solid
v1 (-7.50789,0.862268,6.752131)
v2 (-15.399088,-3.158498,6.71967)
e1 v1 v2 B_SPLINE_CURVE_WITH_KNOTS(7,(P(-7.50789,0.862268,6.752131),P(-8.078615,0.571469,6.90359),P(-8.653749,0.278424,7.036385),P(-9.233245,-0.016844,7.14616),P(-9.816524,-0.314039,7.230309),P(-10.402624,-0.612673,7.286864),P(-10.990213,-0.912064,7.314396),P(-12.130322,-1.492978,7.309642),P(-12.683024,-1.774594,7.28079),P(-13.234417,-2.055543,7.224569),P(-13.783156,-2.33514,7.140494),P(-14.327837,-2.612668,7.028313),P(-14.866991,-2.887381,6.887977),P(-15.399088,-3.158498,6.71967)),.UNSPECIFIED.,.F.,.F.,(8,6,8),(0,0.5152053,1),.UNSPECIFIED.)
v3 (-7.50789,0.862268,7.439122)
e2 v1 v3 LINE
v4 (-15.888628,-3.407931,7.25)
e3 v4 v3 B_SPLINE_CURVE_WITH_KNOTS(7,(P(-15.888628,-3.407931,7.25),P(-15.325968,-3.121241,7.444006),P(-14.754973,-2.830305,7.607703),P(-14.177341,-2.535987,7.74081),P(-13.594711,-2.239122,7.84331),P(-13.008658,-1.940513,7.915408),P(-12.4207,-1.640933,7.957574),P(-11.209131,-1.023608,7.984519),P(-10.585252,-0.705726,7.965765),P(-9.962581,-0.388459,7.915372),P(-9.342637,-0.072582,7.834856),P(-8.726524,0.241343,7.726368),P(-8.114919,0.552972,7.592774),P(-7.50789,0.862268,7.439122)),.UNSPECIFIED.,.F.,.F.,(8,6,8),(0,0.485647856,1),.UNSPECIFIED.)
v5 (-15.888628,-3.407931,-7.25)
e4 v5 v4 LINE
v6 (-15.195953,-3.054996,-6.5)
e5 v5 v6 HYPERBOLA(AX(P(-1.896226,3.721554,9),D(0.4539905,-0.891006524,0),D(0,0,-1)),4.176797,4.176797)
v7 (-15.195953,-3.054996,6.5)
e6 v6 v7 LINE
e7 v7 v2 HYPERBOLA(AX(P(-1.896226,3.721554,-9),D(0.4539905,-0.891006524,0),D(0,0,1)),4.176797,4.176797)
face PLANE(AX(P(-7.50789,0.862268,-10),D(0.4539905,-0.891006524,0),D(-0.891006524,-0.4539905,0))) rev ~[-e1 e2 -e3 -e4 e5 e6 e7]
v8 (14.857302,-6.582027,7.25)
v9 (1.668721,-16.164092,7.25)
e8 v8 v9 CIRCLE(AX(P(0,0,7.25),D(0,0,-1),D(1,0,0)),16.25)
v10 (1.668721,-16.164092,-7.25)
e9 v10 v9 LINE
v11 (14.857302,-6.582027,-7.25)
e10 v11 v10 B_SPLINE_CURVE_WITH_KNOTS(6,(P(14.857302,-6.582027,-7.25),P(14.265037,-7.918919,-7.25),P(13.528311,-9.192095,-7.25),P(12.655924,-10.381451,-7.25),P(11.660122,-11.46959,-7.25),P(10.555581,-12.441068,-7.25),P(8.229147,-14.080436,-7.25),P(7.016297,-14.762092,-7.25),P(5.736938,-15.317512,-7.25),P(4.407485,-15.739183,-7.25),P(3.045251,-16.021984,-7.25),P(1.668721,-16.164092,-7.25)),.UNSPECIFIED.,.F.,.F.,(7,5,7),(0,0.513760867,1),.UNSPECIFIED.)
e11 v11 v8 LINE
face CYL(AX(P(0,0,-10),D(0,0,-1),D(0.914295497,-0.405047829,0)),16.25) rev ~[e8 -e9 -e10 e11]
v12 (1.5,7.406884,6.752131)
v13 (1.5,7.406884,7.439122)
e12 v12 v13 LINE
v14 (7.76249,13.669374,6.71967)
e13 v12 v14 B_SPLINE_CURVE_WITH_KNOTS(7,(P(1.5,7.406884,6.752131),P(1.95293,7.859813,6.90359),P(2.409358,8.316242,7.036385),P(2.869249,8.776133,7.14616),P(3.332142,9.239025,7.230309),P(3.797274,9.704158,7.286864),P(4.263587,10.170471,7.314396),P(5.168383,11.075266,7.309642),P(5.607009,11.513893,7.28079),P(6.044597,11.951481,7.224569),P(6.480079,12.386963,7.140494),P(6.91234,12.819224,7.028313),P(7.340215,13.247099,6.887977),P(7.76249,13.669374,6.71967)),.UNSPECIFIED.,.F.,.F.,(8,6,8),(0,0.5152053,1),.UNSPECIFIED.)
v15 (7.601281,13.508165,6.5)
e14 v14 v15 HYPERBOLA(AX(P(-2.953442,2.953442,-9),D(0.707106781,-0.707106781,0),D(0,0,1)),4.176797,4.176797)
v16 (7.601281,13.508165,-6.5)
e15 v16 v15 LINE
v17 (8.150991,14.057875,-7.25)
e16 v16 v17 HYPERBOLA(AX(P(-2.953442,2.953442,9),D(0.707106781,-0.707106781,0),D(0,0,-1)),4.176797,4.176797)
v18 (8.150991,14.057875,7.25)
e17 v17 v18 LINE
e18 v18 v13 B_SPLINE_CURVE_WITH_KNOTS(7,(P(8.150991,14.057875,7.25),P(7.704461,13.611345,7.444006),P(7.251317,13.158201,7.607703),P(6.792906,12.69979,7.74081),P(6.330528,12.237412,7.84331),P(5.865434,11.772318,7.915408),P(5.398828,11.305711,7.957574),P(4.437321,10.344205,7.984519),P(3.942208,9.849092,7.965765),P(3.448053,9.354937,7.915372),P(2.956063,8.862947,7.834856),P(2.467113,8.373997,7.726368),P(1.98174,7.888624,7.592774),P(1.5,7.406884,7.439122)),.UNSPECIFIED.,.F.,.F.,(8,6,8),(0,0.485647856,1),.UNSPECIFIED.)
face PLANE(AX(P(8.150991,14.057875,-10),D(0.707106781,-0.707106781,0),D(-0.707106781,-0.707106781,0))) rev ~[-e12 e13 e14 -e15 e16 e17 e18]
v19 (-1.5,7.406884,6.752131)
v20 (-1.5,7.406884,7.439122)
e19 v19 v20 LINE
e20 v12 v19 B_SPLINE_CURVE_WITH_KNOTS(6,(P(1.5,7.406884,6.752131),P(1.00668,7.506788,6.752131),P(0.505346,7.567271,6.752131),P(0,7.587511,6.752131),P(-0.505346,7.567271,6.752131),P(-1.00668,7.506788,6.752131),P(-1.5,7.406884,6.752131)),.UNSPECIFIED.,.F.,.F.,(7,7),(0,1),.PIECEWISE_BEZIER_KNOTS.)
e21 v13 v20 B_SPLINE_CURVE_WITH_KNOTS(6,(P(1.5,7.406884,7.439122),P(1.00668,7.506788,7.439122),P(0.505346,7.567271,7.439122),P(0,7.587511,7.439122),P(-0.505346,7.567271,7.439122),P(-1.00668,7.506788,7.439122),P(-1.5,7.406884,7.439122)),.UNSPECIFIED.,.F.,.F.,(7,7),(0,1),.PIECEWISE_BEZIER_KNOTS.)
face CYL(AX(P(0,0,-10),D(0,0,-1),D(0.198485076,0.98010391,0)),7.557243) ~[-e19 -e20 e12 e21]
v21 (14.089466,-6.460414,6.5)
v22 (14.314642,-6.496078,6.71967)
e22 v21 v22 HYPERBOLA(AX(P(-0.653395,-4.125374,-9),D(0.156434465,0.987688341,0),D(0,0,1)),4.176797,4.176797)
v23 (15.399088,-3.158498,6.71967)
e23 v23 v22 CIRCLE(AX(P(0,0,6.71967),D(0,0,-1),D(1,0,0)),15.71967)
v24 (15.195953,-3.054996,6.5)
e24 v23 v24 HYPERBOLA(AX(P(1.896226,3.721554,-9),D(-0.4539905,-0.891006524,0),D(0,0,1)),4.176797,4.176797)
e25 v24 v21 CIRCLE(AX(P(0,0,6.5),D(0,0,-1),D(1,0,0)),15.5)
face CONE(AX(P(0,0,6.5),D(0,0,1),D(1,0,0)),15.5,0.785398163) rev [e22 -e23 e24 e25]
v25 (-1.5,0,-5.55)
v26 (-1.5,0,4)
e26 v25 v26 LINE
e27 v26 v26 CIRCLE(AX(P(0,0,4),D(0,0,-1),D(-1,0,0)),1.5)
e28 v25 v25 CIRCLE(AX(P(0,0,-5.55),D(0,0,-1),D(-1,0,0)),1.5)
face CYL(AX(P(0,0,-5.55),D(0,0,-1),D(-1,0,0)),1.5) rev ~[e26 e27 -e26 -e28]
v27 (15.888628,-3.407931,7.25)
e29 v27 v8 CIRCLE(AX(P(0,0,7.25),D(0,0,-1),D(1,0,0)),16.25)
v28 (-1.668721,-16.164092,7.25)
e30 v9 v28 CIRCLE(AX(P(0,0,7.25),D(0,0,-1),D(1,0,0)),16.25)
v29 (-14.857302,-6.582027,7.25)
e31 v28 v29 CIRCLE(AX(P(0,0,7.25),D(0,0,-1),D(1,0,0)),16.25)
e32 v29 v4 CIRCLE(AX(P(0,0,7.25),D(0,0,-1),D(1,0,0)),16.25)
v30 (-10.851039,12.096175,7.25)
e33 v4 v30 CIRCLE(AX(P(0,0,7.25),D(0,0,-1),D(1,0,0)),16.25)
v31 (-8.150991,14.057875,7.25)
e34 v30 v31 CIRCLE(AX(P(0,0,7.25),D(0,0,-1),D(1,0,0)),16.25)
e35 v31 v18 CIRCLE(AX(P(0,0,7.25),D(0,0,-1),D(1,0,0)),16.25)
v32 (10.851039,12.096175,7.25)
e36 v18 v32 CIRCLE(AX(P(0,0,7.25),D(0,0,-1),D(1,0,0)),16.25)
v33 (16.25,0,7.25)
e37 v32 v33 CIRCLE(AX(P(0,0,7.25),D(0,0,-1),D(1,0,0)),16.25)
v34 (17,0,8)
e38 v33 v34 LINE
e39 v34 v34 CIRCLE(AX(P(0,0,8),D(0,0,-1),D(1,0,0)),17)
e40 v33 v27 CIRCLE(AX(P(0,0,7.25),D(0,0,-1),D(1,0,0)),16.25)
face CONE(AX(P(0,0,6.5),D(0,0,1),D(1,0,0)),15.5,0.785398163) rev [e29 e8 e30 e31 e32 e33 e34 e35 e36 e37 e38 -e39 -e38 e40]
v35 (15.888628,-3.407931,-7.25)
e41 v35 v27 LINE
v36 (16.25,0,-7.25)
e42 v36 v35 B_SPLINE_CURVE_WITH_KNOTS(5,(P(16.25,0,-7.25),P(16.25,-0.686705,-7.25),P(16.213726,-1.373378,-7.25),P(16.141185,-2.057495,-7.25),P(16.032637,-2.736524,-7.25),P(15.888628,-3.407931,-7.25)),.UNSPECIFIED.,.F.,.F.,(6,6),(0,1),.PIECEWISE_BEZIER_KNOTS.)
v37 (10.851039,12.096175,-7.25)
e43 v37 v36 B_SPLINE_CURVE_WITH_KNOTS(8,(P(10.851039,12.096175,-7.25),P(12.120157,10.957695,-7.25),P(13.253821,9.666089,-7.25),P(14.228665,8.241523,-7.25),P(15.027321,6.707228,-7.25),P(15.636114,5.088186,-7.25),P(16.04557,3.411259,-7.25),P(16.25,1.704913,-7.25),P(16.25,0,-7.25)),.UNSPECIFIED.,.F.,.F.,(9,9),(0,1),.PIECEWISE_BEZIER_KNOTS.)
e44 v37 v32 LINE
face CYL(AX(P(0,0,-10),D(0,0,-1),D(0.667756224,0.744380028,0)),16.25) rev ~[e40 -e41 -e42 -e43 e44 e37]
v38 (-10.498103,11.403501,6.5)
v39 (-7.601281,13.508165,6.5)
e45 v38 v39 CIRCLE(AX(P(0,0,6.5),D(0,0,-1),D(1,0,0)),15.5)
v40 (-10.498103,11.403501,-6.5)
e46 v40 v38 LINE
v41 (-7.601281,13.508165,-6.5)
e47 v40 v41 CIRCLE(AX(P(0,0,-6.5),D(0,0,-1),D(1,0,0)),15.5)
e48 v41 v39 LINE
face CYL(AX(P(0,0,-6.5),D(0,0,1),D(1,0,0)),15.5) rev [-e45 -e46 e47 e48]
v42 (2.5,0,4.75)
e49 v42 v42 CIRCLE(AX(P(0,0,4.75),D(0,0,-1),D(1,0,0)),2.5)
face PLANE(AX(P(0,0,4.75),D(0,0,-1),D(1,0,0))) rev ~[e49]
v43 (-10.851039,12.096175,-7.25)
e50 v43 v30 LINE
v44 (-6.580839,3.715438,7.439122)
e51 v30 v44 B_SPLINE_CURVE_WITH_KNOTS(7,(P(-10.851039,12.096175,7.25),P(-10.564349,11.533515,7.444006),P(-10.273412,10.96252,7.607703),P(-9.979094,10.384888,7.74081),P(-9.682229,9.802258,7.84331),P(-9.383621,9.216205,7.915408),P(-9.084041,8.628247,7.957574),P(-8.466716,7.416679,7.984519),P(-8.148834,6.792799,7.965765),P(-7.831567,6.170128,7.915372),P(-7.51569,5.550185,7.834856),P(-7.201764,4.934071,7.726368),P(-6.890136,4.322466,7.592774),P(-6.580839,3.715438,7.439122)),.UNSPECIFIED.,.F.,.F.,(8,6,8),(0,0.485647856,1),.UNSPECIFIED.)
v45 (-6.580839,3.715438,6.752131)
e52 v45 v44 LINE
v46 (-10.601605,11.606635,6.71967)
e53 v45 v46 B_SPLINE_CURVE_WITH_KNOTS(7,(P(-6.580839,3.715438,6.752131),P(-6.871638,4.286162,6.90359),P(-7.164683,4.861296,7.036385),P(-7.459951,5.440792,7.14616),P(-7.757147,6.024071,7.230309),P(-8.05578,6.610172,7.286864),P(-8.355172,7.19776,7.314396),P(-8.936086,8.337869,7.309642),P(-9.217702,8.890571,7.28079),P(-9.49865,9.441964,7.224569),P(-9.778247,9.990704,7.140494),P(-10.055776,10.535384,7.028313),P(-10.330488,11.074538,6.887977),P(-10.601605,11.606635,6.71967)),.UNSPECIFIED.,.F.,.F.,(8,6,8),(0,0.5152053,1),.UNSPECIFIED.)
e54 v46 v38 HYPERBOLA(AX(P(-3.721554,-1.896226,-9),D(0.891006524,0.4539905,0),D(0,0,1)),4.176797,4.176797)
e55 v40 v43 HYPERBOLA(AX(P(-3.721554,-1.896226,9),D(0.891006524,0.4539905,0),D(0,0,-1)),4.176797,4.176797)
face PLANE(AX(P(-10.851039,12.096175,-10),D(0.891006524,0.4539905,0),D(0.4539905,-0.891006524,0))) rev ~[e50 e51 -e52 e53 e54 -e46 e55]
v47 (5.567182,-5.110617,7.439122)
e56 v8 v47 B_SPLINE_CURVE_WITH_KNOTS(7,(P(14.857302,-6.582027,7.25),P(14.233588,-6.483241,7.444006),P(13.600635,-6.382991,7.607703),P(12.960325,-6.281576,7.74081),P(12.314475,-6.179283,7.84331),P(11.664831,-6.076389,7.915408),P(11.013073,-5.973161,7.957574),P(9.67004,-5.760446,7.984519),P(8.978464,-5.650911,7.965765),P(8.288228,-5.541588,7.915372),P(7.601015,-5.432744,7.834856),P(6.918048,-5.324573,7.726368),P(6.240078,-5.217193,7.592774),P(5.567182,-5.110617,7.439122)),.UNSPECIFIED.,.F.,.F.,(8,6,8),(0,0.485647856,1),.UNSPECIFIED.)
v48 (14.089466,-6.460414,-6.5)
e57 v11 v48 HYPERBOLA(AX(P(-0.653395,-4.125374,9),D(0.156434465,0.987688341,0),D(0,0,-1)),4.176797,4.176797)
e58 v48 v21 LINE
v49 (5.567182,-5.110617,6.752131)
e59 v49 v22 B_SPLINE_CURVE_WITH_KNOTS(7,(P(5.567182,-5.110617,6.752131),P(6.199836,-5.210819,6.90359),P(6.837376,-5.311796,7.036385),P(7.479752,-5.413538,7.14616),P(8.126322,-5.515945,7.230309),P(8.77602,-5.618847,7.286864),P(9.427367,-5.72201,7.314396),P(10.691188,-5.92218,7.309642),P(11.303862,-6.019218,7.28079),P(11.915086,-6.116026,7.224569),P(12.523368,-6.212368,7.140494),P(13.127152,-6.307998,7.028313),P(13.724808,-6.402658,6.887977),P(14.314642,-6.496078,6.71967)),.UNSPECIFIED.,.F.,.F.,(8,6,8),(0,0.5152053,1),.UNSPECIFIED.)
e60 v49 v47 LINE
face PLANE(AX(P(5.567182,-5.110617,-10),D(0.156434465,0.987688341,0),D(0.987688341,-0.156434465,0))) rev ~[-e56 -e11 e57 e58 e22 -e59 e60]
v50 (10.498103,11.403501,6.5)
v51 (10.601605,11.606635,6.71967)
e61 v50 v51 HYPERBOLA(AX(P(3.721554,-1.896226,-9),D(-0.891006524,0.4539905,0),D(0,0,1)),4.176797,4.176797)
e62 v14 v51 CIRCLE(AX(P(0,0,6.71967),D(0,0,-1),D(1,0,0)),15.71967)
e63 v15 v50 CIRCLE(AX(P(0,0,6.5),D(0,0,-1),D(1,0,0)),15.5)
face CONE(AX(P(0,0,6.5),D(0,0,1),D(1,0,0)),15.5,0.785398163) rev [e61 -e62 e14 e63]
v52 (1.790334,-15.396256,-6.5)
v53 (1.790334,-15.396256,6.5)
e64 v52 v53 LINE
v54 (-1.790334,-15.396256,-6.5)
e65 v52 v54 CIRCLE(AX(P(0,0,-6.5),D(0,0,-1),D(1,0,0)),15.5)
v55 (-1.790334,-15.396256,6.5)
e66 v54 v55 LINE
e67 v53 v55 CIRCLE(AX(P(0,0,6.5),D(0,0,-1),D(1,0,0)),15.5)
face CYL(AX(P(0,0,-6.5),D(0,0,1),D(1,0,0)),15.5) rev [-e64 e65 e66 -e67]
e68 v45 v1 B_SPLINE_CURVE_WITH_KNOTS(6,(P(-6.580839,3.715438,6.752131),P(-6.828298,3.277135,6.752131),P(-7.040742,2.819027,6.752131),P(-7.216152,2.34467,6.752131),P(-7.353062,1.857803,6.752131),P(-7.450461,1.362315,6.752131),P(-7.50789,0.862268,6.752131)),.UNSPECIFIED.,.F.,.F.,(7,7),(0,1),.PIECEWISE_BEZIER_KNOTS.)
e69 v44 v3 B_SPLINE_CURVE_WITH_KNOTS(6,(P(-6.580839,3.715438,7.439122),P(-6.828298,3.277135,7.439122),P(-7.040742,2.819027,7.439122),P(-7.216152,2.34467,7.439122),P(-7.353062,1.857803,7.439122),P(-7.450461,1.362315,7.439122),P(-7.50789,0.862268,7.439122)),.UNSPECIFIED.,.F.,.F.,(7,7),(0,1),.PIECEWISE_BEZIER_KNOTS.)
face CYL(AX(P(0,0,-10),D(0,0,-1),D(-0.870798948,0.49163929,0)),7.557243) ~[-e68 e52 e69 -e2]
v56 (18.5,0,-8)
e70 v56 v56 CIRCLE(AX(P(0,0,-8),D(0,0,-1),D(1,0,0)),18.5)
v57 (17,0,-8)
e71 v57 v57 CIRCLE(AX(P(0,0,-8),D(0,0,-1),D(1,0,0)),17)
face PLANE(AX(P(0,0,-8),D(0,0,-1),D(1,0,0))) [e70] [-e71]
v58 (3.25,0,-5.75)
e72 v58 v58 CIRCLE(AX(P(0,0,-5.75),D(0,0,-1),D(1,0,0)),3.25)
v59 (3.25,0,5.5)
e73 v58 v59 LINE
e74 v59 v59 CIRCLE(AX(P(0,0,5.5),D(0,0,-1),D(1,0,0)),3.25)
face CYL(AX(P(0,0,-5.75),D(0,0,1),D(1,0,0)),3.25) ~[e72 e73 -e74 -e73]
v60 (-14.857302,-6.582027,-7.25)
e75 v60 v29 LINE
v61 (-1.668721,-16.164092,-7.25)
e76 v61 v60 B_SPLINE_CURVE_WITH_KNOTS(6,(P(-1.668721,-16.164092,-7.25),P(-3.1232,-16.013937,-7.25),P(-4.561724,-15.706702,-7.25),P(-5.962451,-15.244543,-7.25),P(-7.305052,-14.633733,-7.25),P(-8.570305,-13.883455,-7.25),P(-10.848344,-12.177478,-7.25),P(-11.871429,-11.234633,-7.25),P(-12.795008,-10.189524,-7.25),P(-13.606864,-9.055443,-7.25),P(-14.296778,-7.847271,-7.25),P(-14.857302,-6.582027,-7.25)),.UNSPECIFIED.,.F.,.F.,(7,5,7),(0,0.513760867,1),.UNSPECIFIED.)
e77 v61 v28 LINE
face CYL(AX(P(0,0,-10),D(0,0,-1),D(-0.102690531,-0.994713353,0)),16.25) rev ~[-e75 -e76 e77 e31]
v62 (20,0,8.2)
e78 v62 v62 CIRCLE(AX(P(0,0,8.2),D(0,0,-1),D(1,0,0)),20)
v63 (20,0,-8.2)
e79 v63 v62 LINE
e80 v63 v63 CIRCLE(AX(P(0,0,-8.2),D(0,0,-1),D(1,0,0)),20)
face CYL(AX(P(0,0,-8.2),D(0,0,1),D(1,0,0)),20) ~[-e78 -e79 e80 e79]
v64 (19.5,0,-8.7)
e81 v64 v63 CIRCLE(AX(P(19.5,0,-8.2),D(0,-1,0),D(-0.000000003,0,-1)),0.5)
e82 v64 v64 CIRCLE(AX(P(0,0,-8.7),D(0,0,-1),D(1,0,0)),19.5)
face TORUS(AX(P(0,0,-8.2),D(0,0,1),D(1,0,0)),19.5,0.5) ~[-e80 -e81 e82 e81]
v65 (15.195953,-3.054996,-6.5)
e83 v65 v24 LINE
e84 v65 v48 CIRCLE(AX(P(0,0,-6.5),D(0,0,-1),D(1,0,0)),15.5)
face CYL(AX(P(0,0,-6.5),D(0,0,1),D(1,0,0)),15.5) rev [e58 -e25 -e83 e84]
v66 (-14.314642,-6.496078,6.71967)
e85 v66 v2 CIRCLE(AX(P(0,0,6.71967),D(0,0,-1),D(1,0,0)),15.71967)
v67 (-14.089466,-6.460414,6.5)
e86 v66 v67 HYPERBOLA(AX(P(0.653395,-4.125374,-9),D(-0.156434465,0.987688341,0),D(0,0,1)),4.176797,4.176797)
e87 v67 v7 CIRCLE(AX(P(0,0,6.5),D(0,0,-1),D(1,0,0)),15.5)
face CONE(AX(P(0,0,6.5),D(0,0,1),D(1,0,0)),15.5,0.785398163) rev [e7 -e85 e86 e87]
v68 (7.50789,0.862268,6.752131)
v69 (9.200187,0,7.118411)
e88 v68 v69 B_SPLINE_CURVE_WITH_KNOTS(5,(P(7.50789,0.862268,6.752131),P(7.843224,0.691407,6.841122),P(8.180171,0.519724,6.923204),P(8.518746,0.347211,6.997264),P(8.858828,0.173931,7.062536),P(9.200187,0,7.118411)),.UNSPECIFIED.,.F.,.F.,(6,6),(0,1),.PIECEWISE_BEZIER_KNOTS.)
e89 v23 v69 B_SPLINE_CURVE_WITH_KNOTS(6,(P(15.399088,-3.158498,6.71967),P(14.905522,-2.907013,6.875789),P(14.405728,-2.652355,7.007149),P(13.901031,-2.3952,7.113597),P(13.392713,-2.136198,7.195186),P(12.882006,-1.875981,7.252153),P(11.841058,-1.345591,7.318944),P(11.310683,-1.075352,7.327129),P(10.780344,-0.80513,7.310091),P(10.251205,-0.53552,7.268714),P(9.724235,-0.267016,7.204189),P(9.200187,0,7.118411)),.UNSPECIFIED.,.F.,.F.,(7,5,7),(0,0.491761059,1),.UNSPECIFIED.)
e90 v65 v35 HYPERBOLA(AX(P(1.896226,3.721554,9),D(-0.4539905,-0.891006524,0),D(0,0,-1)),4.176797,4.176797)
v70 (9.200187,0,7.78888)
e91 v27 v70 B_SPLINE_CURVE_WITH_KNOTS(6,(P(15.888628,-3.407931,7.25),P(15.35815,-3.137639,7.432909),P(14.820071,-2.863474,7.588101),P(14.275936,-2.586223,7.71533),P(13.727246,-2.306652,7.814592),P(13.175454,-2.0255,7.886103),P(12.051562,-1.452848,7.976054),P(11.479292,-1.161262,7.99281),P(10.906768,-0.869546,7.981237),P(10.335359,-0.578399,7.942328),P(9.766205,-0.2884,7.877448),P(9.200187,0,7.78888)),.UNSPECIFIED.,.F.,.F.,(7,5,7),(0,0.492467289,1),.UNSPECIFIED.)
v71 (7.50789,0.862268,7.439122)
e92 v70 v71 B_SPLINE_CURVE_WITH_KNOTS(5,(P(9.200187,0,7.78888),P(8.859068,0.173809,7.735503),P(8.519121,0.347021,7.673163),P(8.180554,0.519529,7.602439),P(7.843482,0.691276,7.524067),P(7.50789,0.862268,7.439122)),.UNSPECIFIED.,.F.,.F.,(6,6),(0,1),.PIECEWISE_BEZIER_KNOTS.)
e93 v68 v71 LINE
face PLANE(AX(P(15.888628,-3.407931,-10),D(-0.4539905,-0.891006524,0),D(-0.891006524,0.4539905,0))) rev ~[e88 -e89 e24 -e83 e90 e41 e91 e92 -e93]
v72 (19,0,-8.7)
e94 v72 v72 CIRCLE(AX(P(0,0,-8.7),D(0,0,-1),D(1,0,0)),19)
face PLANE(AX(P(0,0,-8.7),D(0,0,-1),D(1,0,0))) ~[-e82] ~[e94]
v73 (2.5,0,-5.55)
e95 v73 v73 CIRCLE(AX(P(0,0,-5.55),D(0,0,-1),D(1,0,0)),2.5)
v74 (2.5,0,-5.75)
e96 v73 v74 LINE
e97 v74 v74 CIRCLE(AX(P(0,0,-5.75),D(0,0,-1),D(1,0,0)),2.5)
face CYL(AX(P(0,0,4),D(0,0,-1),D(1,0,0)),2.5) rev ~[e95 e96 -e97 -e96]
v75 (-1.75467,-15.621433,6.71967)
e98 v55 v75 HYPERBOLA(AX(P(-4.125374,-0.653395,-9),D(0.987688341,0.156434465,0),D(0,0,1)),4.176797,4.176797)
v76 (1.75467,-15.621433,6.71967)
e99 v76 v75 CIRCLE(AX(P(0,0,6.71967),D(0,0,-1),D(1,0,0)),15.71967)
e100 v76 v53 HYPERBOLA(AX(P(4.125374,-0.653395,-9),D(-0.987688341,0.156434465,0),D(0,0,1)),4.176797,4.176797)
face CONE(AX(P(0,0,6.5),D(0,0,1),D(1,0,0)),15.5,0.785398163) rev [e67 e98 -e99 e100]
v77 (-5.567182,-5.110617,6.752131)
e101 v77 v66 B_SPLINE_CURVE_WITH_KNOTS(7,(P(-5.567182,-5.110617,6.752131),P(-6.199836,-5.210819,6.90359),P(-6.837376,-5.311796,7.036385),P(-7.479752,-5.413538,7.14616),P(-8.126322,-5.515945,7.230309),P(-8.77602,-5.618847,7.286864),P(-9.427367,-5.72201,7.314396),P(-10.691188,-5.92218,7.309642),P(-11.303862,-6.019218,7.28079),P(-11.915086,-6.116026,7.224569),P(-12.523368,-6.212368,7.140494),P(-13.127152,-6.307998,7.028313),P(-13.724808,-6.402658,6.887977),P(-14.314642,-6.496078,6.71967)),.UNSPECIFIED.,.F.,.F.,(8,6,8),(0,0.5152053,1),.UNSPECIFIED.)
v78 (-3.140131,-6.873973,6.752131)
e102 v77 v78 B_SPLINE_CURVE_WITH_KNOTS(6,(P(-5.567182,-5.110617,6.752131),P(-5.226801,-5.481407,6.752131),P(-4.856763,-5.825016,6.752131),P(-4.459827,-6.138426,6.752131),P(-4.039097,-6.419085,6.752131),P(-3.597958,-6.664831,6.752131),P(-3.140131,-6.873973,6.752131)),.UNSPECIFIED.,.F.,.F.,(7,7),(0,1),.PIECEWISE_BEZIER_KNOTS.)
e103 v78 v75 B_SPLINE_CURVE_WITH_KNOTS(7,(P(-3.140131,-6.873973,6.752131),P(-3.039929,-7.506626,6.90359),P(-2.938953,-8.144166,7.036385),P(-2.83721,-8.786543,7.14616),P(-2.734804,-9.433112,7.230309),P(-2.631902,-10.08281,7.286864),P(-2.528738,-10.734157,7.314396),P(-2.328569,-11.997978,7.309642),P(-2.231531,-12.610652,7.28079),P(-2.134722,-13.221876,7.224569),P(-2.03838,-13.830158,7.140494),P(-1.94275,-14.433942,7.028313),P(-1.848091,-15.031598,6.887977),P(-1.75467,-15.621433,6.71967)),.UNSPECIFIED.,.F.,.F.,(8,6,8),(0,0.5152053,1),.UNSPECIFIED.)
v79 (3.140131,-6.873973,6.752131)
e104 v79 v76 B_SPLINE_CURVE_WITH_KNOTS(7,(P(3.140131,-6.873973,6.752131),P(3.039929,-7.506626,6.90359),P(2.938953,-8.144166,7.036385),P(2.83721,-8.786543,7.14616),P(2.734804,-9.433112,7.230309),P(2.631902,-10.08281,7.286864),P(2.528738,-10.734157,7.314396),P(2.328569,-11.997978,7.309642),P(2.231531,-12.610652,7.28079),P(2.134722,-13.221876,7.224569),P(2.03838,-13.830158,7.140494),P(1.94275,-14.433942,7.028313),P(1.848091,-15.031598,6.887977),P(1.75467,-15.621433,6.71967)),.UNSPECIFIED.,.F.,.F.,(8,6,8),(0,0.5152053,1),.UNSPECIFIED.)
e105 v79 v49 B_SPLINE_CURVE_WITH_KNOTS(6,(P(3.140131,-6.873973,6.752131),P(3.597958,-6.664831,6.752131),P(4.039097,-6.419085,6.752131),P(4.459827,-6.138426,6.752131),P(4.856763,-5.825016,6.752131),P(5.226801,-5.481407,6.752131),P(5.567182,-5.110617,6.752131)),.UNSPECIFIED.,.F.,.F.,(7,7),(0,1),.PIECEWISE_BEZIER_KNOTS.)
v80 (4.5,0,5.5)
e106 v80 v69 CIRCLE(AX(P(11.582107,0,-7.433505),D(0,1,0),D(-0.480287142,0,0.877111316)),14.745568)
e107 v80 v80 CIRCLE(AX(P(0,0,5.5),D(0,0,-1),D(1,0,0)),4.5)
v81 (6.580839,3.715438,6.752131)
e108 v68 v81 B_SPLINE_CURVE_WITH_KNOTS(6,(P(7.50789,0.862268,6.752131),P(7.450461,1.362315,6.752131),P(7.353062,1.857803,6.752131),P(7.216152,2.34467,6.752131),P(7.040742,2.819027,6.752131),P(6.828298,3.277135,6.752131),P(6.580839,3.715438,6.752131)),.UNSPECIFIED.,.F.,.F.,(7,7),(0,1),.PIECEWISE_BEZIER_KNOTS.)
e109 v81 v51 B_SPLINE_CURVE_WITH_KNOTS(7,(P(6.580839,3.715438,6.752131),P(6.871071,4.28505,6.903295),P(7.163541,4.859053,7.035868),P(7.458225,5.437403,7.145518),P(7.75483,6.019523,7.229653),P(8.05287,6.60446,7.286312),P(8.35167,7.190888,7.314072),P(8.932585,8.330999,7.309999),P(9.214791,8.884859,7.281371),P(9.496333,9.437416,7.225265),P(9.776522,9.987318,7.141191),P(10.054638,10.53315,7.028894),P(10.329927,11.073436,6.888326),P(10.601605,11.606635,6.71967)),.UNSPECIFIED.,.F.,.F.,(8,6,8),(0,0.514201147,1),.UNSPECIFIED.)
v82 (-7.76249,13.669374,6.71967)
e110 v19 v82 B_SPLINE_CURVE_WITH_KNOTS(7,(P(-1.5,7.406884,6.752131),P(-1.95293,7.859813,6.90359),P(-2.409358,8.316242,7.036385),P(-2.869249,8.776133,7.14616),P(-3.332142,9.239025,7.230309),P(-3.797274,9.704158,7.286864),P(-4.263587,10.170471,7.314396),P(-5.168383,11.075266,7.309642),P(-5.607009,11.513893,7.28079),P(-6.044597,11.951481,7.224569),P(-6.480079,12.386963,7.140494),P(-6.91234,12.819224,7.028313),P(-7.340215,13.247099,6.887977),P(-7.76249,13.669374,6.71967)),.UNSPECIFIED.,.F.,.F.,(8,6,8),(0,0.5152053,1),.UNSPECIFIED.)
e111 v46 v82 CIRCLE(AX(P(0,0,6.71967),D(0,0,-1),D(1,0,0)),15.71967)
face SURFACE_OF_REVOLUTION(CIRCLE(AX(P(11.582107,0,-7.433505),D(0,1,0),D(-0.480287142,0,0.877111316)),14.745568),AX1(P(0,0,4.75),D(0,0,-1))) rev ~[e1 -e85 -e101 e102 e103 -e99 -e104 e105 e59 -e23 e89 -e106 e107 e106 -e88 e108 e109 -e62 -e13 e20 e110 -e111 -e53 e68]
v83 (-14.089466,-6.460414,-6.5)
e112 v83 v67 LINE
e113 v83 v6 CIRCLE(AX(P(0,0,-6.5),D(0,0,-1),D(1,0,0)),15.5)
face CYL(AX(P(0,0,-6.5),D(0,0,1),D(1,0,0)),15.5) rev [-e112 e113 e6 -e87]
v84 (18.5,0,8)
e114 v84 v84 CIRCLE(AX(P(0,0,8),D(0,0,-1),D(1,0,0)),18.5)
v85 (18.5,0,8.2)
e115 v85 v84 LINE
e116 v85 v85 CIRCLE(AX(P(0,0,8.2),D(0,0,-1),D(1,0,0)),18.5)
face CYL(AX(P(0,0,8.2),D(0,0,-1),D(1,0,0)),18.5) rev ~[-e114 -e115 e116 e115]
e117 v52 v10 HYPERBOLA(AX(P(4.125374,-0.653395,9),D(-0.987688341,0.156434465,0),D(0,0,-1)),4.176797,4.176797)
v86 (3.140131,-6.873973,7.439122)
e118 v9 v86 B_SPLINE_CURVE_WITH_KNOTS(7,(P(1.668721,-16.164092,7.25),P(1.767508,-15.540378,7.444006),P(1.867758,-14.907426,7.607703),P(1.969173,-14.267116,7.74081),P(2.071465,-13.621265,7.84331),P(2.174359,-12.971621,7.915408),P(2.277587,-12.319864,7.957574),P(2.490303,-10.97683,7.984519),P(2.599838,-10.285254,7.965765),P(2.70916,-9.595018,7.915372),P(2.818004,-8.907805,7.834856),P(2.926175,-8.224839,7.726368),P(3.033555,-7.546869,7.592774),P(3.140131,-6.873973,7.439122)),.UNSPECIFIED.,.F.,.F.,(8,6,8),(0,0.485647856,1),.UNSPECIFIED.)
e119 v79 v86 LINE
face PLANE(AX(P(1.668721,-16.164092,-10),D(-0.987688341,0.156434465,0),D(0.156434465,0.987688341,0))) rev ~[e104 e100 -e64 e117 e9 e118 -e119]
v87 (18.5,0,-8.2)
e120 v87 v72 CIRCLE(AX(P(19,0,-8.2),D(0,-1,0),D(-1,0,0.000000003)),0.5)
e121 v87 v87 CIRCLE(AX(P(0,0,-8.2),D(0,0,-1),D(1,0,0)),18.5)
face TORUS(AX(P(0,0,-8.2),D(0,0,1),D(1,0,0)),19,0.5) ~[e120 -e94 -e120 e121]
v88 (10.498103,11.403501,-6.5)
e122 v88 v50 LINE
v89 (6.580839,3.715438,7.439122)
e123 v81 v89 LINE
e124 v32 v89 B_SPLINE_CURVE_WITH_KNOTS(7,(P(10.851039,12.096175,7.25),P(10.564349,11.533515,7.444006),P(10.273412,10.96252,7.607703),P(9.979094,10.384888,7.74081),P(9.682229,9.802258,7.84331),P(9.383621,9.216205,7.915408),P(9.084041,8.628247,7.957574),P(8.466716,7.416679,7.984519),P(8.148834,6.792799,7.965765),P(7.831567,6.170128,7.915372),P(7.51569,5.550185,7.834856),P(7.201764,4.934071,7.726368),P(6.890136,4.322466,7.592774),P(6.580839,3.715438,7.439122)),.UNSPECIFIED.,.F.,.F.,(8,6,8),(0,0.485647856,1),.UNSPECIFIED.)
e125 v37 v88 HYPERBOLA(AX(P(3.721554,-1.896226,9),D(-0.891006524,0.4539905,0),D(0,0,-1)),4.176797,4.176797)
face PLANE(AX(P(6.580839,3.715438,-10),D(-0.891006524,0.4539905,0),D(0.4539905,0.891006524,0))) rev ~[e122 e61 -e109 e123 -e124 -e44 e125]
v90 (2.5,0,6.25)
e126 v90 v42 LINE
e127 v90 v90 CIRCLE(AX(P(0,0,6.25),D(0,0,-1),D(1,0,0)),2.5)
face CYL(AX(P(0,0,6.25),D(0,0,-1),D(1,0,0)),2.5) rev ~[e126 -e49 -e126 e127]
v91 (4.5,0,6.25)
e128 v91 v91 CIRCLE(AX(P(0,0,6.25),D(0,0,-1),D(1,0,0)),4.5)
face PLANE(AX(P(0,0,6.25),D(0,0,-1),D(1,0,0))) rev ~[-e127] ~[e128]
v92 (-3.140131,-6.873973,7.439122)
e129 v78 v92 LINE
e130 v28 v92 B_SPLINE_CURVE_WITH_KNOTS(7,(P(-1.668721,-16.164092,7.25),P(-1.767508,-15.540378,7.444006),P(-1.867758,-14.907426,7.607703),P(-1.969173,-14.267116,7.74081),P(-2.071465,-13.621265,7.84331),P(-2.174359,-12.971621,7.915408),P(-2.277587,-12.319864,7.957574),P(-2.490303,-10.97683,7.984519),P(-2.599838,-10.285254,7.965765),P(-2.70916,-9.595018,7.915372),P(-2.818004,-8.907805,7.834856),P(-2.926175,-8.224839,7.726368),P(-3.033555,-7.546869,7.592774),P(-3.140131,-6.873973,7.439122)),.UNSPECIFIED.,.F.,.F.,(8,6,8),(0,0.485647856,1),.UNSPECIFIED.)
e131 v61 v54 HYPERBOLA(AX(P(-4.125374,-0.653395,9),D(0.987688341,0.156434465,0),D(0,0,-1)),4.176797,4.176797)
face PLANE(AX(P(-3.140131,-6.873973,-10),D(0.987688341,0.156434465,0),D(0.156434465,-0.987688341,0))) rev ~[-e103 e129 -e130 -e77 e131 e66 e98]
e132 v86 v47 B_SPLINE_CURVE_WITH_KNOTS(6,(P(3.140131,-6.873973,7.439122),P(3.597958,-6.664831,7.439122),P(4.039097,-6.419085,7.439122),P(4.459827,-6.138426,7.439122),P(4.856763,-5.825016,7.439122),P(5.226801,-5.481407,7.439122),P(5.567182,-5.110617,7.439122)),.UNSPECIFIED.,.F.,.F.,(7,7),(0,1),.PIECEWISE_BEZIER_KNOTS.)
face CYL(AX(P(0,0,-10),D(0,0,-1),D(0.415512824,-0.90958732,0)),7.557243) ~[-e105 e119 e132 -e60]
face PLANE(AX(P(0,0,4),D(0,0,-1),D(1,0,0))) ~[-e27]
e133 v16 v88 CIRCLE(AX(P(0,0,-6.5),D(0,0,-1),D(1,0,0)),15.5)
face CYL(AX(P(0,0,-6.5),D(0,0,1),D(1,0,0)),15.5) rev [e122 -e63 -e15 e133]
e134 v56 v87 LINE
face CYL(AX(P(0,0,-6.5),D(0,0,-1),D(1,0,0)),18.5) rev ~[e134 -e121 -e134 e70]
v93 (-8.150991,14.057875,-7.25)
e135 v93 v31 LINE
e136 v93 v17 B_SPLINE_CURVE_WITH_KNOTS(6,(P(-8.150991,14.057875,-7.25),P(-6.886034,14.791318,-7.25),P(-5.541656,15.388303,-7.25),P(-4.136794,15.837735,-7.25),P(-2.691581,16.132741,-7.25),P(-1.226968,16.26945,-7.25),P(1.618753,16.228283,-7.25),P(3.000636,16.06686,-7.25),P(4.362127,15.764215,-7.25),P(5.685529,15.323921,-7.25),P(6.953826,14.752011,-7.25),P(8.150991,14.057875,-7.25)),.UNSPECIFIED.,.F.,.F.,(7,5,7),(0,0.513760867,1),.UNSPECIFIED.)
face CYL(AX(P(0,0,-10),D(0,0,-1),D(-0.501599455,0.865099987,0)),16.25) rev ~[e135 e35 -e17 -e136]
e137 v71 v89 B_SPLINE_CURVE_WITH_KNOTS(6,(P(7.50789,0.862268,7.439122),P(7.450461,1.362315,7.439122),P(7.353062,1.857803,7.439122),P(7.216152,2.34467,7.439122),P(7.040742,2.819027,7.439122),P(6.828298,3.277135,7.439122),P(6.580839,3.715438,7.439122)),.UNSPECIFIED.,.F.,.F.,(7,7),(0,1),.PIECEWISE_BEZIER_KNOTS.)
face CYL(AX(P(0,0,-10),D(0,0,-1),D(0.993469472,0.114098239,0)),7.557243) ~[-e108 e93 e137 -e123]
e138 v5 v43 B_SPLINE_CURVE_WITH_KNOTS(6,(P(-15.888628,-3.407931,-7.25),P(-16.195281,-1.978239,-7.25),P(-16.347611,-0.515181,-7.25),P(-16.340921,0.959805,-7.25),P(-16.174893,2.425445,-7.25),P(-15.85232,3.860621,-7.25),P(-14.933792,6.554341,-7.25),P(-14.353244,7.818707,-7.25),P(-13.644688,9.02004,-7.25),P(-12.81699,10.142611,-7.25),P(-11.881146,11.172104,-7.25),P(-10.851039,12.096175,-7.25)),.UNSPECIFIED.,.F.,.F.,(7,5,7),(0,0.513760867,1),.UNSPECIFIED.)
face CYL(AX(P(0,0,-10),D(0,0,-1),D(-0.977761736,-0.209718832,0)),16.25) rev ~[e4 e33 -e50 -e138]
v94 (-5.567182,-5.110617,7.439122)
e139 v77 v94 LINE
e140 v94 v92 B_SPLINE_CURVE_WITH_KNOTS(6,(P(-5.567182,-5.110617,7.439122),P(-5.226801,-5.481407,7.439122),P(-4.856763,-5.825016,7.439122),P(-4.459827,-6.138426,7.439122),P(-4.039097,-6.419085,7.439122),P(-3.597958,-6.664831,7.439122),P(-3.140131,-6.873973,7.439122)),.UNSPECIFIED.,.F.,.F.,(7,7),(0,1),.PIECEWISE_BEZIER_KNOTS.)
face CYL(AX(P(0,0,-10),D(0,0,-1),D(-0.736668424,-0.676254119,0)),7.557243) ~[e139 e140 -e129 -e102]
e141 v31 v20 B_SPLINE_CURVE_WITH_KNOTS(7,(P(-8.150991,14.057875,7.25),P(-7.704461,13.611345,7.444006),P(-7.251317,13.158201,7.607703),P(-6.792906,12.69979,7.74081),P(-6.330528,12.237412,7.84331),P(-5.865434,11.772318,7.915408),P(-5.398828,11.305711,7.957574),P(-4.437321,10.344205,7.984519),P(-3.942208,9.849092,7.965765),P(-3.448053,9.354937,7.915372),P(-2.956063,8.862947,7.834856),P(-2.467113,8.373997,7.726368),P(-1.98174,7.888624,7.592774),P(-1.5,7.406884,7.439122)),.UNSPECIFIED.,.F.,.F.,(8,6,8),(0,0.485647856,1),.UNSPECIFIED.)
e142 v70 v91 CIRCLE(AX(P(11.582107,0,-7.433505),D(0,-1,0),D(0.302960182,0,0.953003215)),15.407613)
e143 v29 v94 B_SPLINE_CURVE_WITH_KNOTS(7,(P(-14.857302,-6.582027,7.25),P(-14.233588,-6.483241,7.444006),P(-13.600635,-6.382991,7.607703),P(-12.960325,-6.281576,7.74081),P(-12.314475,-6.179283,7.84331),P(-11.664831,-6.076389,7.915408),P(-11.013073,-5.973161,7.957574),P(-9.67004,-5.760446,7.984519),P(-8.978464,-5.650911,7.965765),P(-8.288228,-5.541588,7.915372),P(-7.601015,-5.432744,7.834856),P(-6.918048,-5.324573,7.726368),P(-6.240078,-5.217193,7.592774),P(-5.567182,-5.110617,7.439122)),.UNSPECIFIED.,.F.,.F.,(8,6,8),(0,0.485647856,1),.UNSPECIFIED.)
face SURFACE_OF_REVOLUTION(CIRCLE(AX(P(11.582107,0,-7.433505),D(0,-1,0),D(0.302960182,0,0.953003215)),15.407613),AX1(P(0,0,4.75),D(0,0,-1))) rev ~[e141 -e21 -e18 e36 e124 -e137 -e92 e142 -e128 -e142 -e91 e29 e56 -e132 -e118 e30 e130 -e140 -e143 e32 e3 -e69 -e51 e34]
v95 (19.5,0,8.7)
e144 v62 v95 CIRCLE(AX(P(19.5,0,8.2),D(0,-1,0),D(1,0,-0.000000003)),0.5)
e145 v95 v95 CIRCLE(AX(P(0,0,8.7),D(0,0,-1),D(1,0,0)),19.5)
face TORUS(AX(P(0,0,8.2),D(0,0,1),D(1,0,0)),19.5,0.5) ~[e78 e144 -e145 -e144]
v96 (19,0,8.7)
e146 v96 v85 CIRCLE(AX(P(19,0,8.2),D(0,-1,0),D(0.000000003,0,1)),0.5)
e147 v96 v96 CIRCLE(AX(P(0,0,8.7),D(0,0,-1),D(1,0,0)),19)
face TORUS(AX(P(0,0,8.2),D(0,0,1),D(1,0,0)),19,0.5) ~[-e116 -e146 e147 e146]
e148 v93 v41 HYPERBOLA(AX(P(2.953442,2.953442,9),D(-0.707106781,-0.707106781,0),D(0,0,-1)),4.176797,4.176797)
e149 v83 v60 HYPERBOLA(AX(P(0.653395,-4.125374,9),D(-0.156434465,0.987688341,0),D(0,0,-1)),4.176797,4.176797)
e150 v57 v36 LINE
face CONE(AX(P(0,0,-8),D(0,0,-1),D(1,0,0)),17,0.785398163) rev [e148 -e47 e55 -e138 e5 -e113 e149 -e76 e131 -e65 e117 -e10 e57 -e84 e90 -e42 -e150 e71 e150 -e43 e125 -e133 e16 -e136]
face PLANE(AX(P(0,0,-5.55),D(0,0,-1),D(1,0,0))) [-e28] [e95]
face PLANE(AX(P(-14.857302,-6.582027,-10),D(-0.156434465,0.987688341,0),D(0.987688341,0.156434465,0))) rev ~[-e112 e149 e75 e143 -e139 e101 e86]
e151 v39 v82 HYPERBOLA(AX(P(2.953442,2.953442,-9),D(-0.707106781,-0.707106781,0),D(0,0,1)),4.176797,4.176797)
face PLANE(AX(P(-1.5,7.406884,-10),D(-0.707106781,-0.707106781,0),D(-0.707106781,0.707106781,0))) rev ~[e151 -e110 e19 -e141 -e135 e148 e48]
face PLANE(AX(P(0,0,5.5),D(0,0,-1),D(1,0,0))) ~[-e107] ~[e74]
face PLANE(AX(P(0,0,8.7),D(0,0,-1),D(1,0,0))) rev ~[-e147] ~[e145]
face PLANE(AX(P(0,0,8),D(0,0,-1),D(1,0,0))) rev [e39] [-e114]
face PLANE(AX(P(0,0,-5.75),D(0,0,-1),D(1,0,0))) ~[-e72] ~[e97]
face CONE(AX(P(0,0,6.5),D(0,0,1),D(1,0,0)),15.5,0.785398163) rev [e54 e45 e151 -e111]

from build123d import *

# Parameters (mm, degrees)
CUT_EXTRUDE2_DEPTH      = 10
CUT_EXTRUDE2_DEPTH_BACK = 10
BOSS_EXTRUDE1_START     = -0.2
SKETCH6_R               = 2.5
SKETCH6_R_2             = 1.5
BOSS_EXTRUDE1_DEPTH     = 10


with BuildPart() as part:
    # Sketch1 → Revolve1 (revolve)
    with BuildSketch(Plane(origin=(0, 0, 0), x_dir=(0, 0, -1), z_dir=(1, 0, 0)), mode=Mode.PRIVATE) as revolve1_sk:
        Polygon((6.5, 15.5), (-6.5, 15.5), (-8, 17), (-8, 18.5), (-6.5, 18.5), (-5, 16.5), (5, 16.5), (6.5, 18.5), (8, 18.5), (8, 17), align=None)
    revolve(revolve1_sk.sketch.rotate(Axis((0, 0, 10.557897078), (0, 0, -1)), 90), axis=Axis((0, 0, 10.557897078), (0, 0, -1)))

    # Sketch3 → Revolve2 (revolve)
    with BuildSketch(Plane(origin=(0, 0, 0), x_dir=(0, 0, -1), z_dir=(1, 0, 0)), mode=Mode.PRIVATE) as revolve2_sk:
        with BuildLine():
            Line((-6.25, 4.5), (-6.25, 2.5))
            Line((-6.25, 2.5), (-4.75, 2.5))
            Line((-4.75, 2.5), (-4.75, 0))
            Line((-4.75, 0), (-4, 0))
            Line((-4, 0), (-4, 2.5))
            Line((-4, 2.5), (5.75, 2.5))
            Line((5.75, 2.5), (5.75, 3.25))
            Line((5.75, 3.25), (-5.5, 3.25))
            Line((-5.5, 3.25), (-5.5, 4.5))
            ThreePointArc((-5.5, 4.5), (-7.225700509, 9.988531242), (-6.719669914, 15.719669914))
            Line((-6.719669914, 15.719669914), (-7.25, 16.25))
            ThreePointArc((-7.25, 16.25), (-7.918610158, 10.275543816), (-6.25, 4.5))
        make_face()
    revolve(revolve2_sk.sketch.rotate(Axis((0, 0, 4.75), (0, 0, -1)), 90), axis=Axis((0, 0, 4.75), (0, 0, -1)))

    # Sketch4 → Cut-Extrude2 (cut, two sides: drawn at the far end of the back side and taken through both)
    with BuildSketch(Plane.XY.offset(-CUT_EXTRUDE2_DEPTH_BACK)):
        with BuildLine():
            Line((-1.5, 7.406883651), (-8.150991135, 14.057874786))
            ThreePointArc((-8.150991135, 14.057874786), (0, 16.25), (8.150991135, 14.057874786))
            Line((8.150991135, 14.057874786), (1.5, 7.406883651))
            ThreePointArc((1.5, 7.406883651), (0, 7.557243242), (-1.5, 7.406883651))
        make_face()
        with BuildLine():
            Line((6.58083947, 3.715437698), (10.851038639, 12.096175447))
            ThreePointArc((10.851038639, 12.096175447), (15.45466839, 5.021526159), (15.888628203, -3.40793102))
            Line((15.888628203, -3.40793102), (7.507890453, 0.862268149))
            ThreePointArc((7.507890453, 0.862268149), (7.187365431, 2.335316592), (6.58083947, 3.715437698))
        make_face()
        with BuildLine():
            Line((5.567182467, -5.110616871), (14.857301828, -6.582027226))
            ThreePointArc((14.857301828, -6.582027226), (9.55151035, -13.146526159), (1.668721129, -16.164091988))
            Line((1.668721129, -16.164091988), (3.140131484, -6.873972628))
            ThreePointArc((3.140131484, -6.873972628), (4.442036126, -6.113938214), (5.567182467, -5.110616871))
        make_face()
        with BuildLine():
            Line((-3.140131484, -6.873972628), (-1.668721129, -16.164091988))
            ThreePointArc((-1.668721129, -16.164091988), (-9.55151035, -13.146526159), (-14.857301828, -6.582027226))
            Line((-14.857301828, -6.582027226), (-5.567182467, -5.110616871))
            ThreePointArc((-5.567182467, -5.110616871), (-4.442036126, -6.113938214), (-3.140131484, -6.873972628))
        make_face()
        with BuildLine():
            Line((-7.507890453, 0.862268149), (-15.888628203, -3.40793102))
            ThreePointArc((-15.888628203, -3.40793102), (-15.45466839, 5.021526159), (-10.851038639, 12.096175447))
            Line((-10.851038639, 12.096175447), (-6.58083947, 3.715437698))
            ThreePointArc((-6.58083947, 3.715437698), (-7.187365431, 2.335316592), (-7.507890453, 0.862268149))
        make_face()
    extrude(amount=CUT_EXTRUDE2_DEPTH + CUT_EXTRUDE2_DEPTH_BACK, mode=Mode.SUBTRACT)

    # Sketch5 → Revolve3 (revolve)
    with BuildSketch(Plane(origin=(0, 0, 0), x_dir=(0, 0, -1), z_dir=(1, 0, 0)), mode=Mode.PRIVATE) as revolve3_sk:
        with BuildLine():
            Line((-8.2, 18.5), (-6.5, 18.5))
            Line((-6.5, 18.5), (-5, 16.5))
            Line((-5, 16.5), (5, 16.5))
            Line((5, 16.5), (6.5, 18.5))
            Line((6.5, 18.5), (8.2, 18.5))
            ThreePointArc((8.2, 18.5), (8.553553391, 18.646446609), (8.7, 19))
            Line((8.7, 19), (8.7, 19.5))
            ThreePointArc((8.7, 19.5), (8.553553391, 19.853553391), (8.2, 20))
            Line((8.2, 20), (-8.2, 20))
            ThreePointArc((-8.2, 20), (-8.553553391, 19.853553391), (-8.7, 19.5))
            Line((-8.7, 19.5), (-8.7, 19))
            ThreePointArc((-8.7, 19), (-8.553553391, 18.646446609), (-8.2, 18.5))
        make_face()
    revolve(revolve3_sk.sketch.rotate(Axis((0, 0, 17.280057329), (0, 0, -1)), 90), axis=Axis((0, 0, 17.280057329), (0, 0, -1)))

    # Sketch6 → Boss-Extrude1 (add)
    with BuildSketch(Plane(origin=(0, 0, -5.75), x_dir=(-1, 0, 0), z_dir=(0, 0, -1)).offset(BOSS_EXTRUDE1_START)):
        with Locations(Location((0, 0, 0), (0, 0, 180))):
            Circle(SKETCH6_R)
        Circle(SKETCH6_R_2, mode=Mode.SUBTRACT)
    extrude(amount=-BOSS_EXTRUDE1_DEPTH)


solid = part.part
